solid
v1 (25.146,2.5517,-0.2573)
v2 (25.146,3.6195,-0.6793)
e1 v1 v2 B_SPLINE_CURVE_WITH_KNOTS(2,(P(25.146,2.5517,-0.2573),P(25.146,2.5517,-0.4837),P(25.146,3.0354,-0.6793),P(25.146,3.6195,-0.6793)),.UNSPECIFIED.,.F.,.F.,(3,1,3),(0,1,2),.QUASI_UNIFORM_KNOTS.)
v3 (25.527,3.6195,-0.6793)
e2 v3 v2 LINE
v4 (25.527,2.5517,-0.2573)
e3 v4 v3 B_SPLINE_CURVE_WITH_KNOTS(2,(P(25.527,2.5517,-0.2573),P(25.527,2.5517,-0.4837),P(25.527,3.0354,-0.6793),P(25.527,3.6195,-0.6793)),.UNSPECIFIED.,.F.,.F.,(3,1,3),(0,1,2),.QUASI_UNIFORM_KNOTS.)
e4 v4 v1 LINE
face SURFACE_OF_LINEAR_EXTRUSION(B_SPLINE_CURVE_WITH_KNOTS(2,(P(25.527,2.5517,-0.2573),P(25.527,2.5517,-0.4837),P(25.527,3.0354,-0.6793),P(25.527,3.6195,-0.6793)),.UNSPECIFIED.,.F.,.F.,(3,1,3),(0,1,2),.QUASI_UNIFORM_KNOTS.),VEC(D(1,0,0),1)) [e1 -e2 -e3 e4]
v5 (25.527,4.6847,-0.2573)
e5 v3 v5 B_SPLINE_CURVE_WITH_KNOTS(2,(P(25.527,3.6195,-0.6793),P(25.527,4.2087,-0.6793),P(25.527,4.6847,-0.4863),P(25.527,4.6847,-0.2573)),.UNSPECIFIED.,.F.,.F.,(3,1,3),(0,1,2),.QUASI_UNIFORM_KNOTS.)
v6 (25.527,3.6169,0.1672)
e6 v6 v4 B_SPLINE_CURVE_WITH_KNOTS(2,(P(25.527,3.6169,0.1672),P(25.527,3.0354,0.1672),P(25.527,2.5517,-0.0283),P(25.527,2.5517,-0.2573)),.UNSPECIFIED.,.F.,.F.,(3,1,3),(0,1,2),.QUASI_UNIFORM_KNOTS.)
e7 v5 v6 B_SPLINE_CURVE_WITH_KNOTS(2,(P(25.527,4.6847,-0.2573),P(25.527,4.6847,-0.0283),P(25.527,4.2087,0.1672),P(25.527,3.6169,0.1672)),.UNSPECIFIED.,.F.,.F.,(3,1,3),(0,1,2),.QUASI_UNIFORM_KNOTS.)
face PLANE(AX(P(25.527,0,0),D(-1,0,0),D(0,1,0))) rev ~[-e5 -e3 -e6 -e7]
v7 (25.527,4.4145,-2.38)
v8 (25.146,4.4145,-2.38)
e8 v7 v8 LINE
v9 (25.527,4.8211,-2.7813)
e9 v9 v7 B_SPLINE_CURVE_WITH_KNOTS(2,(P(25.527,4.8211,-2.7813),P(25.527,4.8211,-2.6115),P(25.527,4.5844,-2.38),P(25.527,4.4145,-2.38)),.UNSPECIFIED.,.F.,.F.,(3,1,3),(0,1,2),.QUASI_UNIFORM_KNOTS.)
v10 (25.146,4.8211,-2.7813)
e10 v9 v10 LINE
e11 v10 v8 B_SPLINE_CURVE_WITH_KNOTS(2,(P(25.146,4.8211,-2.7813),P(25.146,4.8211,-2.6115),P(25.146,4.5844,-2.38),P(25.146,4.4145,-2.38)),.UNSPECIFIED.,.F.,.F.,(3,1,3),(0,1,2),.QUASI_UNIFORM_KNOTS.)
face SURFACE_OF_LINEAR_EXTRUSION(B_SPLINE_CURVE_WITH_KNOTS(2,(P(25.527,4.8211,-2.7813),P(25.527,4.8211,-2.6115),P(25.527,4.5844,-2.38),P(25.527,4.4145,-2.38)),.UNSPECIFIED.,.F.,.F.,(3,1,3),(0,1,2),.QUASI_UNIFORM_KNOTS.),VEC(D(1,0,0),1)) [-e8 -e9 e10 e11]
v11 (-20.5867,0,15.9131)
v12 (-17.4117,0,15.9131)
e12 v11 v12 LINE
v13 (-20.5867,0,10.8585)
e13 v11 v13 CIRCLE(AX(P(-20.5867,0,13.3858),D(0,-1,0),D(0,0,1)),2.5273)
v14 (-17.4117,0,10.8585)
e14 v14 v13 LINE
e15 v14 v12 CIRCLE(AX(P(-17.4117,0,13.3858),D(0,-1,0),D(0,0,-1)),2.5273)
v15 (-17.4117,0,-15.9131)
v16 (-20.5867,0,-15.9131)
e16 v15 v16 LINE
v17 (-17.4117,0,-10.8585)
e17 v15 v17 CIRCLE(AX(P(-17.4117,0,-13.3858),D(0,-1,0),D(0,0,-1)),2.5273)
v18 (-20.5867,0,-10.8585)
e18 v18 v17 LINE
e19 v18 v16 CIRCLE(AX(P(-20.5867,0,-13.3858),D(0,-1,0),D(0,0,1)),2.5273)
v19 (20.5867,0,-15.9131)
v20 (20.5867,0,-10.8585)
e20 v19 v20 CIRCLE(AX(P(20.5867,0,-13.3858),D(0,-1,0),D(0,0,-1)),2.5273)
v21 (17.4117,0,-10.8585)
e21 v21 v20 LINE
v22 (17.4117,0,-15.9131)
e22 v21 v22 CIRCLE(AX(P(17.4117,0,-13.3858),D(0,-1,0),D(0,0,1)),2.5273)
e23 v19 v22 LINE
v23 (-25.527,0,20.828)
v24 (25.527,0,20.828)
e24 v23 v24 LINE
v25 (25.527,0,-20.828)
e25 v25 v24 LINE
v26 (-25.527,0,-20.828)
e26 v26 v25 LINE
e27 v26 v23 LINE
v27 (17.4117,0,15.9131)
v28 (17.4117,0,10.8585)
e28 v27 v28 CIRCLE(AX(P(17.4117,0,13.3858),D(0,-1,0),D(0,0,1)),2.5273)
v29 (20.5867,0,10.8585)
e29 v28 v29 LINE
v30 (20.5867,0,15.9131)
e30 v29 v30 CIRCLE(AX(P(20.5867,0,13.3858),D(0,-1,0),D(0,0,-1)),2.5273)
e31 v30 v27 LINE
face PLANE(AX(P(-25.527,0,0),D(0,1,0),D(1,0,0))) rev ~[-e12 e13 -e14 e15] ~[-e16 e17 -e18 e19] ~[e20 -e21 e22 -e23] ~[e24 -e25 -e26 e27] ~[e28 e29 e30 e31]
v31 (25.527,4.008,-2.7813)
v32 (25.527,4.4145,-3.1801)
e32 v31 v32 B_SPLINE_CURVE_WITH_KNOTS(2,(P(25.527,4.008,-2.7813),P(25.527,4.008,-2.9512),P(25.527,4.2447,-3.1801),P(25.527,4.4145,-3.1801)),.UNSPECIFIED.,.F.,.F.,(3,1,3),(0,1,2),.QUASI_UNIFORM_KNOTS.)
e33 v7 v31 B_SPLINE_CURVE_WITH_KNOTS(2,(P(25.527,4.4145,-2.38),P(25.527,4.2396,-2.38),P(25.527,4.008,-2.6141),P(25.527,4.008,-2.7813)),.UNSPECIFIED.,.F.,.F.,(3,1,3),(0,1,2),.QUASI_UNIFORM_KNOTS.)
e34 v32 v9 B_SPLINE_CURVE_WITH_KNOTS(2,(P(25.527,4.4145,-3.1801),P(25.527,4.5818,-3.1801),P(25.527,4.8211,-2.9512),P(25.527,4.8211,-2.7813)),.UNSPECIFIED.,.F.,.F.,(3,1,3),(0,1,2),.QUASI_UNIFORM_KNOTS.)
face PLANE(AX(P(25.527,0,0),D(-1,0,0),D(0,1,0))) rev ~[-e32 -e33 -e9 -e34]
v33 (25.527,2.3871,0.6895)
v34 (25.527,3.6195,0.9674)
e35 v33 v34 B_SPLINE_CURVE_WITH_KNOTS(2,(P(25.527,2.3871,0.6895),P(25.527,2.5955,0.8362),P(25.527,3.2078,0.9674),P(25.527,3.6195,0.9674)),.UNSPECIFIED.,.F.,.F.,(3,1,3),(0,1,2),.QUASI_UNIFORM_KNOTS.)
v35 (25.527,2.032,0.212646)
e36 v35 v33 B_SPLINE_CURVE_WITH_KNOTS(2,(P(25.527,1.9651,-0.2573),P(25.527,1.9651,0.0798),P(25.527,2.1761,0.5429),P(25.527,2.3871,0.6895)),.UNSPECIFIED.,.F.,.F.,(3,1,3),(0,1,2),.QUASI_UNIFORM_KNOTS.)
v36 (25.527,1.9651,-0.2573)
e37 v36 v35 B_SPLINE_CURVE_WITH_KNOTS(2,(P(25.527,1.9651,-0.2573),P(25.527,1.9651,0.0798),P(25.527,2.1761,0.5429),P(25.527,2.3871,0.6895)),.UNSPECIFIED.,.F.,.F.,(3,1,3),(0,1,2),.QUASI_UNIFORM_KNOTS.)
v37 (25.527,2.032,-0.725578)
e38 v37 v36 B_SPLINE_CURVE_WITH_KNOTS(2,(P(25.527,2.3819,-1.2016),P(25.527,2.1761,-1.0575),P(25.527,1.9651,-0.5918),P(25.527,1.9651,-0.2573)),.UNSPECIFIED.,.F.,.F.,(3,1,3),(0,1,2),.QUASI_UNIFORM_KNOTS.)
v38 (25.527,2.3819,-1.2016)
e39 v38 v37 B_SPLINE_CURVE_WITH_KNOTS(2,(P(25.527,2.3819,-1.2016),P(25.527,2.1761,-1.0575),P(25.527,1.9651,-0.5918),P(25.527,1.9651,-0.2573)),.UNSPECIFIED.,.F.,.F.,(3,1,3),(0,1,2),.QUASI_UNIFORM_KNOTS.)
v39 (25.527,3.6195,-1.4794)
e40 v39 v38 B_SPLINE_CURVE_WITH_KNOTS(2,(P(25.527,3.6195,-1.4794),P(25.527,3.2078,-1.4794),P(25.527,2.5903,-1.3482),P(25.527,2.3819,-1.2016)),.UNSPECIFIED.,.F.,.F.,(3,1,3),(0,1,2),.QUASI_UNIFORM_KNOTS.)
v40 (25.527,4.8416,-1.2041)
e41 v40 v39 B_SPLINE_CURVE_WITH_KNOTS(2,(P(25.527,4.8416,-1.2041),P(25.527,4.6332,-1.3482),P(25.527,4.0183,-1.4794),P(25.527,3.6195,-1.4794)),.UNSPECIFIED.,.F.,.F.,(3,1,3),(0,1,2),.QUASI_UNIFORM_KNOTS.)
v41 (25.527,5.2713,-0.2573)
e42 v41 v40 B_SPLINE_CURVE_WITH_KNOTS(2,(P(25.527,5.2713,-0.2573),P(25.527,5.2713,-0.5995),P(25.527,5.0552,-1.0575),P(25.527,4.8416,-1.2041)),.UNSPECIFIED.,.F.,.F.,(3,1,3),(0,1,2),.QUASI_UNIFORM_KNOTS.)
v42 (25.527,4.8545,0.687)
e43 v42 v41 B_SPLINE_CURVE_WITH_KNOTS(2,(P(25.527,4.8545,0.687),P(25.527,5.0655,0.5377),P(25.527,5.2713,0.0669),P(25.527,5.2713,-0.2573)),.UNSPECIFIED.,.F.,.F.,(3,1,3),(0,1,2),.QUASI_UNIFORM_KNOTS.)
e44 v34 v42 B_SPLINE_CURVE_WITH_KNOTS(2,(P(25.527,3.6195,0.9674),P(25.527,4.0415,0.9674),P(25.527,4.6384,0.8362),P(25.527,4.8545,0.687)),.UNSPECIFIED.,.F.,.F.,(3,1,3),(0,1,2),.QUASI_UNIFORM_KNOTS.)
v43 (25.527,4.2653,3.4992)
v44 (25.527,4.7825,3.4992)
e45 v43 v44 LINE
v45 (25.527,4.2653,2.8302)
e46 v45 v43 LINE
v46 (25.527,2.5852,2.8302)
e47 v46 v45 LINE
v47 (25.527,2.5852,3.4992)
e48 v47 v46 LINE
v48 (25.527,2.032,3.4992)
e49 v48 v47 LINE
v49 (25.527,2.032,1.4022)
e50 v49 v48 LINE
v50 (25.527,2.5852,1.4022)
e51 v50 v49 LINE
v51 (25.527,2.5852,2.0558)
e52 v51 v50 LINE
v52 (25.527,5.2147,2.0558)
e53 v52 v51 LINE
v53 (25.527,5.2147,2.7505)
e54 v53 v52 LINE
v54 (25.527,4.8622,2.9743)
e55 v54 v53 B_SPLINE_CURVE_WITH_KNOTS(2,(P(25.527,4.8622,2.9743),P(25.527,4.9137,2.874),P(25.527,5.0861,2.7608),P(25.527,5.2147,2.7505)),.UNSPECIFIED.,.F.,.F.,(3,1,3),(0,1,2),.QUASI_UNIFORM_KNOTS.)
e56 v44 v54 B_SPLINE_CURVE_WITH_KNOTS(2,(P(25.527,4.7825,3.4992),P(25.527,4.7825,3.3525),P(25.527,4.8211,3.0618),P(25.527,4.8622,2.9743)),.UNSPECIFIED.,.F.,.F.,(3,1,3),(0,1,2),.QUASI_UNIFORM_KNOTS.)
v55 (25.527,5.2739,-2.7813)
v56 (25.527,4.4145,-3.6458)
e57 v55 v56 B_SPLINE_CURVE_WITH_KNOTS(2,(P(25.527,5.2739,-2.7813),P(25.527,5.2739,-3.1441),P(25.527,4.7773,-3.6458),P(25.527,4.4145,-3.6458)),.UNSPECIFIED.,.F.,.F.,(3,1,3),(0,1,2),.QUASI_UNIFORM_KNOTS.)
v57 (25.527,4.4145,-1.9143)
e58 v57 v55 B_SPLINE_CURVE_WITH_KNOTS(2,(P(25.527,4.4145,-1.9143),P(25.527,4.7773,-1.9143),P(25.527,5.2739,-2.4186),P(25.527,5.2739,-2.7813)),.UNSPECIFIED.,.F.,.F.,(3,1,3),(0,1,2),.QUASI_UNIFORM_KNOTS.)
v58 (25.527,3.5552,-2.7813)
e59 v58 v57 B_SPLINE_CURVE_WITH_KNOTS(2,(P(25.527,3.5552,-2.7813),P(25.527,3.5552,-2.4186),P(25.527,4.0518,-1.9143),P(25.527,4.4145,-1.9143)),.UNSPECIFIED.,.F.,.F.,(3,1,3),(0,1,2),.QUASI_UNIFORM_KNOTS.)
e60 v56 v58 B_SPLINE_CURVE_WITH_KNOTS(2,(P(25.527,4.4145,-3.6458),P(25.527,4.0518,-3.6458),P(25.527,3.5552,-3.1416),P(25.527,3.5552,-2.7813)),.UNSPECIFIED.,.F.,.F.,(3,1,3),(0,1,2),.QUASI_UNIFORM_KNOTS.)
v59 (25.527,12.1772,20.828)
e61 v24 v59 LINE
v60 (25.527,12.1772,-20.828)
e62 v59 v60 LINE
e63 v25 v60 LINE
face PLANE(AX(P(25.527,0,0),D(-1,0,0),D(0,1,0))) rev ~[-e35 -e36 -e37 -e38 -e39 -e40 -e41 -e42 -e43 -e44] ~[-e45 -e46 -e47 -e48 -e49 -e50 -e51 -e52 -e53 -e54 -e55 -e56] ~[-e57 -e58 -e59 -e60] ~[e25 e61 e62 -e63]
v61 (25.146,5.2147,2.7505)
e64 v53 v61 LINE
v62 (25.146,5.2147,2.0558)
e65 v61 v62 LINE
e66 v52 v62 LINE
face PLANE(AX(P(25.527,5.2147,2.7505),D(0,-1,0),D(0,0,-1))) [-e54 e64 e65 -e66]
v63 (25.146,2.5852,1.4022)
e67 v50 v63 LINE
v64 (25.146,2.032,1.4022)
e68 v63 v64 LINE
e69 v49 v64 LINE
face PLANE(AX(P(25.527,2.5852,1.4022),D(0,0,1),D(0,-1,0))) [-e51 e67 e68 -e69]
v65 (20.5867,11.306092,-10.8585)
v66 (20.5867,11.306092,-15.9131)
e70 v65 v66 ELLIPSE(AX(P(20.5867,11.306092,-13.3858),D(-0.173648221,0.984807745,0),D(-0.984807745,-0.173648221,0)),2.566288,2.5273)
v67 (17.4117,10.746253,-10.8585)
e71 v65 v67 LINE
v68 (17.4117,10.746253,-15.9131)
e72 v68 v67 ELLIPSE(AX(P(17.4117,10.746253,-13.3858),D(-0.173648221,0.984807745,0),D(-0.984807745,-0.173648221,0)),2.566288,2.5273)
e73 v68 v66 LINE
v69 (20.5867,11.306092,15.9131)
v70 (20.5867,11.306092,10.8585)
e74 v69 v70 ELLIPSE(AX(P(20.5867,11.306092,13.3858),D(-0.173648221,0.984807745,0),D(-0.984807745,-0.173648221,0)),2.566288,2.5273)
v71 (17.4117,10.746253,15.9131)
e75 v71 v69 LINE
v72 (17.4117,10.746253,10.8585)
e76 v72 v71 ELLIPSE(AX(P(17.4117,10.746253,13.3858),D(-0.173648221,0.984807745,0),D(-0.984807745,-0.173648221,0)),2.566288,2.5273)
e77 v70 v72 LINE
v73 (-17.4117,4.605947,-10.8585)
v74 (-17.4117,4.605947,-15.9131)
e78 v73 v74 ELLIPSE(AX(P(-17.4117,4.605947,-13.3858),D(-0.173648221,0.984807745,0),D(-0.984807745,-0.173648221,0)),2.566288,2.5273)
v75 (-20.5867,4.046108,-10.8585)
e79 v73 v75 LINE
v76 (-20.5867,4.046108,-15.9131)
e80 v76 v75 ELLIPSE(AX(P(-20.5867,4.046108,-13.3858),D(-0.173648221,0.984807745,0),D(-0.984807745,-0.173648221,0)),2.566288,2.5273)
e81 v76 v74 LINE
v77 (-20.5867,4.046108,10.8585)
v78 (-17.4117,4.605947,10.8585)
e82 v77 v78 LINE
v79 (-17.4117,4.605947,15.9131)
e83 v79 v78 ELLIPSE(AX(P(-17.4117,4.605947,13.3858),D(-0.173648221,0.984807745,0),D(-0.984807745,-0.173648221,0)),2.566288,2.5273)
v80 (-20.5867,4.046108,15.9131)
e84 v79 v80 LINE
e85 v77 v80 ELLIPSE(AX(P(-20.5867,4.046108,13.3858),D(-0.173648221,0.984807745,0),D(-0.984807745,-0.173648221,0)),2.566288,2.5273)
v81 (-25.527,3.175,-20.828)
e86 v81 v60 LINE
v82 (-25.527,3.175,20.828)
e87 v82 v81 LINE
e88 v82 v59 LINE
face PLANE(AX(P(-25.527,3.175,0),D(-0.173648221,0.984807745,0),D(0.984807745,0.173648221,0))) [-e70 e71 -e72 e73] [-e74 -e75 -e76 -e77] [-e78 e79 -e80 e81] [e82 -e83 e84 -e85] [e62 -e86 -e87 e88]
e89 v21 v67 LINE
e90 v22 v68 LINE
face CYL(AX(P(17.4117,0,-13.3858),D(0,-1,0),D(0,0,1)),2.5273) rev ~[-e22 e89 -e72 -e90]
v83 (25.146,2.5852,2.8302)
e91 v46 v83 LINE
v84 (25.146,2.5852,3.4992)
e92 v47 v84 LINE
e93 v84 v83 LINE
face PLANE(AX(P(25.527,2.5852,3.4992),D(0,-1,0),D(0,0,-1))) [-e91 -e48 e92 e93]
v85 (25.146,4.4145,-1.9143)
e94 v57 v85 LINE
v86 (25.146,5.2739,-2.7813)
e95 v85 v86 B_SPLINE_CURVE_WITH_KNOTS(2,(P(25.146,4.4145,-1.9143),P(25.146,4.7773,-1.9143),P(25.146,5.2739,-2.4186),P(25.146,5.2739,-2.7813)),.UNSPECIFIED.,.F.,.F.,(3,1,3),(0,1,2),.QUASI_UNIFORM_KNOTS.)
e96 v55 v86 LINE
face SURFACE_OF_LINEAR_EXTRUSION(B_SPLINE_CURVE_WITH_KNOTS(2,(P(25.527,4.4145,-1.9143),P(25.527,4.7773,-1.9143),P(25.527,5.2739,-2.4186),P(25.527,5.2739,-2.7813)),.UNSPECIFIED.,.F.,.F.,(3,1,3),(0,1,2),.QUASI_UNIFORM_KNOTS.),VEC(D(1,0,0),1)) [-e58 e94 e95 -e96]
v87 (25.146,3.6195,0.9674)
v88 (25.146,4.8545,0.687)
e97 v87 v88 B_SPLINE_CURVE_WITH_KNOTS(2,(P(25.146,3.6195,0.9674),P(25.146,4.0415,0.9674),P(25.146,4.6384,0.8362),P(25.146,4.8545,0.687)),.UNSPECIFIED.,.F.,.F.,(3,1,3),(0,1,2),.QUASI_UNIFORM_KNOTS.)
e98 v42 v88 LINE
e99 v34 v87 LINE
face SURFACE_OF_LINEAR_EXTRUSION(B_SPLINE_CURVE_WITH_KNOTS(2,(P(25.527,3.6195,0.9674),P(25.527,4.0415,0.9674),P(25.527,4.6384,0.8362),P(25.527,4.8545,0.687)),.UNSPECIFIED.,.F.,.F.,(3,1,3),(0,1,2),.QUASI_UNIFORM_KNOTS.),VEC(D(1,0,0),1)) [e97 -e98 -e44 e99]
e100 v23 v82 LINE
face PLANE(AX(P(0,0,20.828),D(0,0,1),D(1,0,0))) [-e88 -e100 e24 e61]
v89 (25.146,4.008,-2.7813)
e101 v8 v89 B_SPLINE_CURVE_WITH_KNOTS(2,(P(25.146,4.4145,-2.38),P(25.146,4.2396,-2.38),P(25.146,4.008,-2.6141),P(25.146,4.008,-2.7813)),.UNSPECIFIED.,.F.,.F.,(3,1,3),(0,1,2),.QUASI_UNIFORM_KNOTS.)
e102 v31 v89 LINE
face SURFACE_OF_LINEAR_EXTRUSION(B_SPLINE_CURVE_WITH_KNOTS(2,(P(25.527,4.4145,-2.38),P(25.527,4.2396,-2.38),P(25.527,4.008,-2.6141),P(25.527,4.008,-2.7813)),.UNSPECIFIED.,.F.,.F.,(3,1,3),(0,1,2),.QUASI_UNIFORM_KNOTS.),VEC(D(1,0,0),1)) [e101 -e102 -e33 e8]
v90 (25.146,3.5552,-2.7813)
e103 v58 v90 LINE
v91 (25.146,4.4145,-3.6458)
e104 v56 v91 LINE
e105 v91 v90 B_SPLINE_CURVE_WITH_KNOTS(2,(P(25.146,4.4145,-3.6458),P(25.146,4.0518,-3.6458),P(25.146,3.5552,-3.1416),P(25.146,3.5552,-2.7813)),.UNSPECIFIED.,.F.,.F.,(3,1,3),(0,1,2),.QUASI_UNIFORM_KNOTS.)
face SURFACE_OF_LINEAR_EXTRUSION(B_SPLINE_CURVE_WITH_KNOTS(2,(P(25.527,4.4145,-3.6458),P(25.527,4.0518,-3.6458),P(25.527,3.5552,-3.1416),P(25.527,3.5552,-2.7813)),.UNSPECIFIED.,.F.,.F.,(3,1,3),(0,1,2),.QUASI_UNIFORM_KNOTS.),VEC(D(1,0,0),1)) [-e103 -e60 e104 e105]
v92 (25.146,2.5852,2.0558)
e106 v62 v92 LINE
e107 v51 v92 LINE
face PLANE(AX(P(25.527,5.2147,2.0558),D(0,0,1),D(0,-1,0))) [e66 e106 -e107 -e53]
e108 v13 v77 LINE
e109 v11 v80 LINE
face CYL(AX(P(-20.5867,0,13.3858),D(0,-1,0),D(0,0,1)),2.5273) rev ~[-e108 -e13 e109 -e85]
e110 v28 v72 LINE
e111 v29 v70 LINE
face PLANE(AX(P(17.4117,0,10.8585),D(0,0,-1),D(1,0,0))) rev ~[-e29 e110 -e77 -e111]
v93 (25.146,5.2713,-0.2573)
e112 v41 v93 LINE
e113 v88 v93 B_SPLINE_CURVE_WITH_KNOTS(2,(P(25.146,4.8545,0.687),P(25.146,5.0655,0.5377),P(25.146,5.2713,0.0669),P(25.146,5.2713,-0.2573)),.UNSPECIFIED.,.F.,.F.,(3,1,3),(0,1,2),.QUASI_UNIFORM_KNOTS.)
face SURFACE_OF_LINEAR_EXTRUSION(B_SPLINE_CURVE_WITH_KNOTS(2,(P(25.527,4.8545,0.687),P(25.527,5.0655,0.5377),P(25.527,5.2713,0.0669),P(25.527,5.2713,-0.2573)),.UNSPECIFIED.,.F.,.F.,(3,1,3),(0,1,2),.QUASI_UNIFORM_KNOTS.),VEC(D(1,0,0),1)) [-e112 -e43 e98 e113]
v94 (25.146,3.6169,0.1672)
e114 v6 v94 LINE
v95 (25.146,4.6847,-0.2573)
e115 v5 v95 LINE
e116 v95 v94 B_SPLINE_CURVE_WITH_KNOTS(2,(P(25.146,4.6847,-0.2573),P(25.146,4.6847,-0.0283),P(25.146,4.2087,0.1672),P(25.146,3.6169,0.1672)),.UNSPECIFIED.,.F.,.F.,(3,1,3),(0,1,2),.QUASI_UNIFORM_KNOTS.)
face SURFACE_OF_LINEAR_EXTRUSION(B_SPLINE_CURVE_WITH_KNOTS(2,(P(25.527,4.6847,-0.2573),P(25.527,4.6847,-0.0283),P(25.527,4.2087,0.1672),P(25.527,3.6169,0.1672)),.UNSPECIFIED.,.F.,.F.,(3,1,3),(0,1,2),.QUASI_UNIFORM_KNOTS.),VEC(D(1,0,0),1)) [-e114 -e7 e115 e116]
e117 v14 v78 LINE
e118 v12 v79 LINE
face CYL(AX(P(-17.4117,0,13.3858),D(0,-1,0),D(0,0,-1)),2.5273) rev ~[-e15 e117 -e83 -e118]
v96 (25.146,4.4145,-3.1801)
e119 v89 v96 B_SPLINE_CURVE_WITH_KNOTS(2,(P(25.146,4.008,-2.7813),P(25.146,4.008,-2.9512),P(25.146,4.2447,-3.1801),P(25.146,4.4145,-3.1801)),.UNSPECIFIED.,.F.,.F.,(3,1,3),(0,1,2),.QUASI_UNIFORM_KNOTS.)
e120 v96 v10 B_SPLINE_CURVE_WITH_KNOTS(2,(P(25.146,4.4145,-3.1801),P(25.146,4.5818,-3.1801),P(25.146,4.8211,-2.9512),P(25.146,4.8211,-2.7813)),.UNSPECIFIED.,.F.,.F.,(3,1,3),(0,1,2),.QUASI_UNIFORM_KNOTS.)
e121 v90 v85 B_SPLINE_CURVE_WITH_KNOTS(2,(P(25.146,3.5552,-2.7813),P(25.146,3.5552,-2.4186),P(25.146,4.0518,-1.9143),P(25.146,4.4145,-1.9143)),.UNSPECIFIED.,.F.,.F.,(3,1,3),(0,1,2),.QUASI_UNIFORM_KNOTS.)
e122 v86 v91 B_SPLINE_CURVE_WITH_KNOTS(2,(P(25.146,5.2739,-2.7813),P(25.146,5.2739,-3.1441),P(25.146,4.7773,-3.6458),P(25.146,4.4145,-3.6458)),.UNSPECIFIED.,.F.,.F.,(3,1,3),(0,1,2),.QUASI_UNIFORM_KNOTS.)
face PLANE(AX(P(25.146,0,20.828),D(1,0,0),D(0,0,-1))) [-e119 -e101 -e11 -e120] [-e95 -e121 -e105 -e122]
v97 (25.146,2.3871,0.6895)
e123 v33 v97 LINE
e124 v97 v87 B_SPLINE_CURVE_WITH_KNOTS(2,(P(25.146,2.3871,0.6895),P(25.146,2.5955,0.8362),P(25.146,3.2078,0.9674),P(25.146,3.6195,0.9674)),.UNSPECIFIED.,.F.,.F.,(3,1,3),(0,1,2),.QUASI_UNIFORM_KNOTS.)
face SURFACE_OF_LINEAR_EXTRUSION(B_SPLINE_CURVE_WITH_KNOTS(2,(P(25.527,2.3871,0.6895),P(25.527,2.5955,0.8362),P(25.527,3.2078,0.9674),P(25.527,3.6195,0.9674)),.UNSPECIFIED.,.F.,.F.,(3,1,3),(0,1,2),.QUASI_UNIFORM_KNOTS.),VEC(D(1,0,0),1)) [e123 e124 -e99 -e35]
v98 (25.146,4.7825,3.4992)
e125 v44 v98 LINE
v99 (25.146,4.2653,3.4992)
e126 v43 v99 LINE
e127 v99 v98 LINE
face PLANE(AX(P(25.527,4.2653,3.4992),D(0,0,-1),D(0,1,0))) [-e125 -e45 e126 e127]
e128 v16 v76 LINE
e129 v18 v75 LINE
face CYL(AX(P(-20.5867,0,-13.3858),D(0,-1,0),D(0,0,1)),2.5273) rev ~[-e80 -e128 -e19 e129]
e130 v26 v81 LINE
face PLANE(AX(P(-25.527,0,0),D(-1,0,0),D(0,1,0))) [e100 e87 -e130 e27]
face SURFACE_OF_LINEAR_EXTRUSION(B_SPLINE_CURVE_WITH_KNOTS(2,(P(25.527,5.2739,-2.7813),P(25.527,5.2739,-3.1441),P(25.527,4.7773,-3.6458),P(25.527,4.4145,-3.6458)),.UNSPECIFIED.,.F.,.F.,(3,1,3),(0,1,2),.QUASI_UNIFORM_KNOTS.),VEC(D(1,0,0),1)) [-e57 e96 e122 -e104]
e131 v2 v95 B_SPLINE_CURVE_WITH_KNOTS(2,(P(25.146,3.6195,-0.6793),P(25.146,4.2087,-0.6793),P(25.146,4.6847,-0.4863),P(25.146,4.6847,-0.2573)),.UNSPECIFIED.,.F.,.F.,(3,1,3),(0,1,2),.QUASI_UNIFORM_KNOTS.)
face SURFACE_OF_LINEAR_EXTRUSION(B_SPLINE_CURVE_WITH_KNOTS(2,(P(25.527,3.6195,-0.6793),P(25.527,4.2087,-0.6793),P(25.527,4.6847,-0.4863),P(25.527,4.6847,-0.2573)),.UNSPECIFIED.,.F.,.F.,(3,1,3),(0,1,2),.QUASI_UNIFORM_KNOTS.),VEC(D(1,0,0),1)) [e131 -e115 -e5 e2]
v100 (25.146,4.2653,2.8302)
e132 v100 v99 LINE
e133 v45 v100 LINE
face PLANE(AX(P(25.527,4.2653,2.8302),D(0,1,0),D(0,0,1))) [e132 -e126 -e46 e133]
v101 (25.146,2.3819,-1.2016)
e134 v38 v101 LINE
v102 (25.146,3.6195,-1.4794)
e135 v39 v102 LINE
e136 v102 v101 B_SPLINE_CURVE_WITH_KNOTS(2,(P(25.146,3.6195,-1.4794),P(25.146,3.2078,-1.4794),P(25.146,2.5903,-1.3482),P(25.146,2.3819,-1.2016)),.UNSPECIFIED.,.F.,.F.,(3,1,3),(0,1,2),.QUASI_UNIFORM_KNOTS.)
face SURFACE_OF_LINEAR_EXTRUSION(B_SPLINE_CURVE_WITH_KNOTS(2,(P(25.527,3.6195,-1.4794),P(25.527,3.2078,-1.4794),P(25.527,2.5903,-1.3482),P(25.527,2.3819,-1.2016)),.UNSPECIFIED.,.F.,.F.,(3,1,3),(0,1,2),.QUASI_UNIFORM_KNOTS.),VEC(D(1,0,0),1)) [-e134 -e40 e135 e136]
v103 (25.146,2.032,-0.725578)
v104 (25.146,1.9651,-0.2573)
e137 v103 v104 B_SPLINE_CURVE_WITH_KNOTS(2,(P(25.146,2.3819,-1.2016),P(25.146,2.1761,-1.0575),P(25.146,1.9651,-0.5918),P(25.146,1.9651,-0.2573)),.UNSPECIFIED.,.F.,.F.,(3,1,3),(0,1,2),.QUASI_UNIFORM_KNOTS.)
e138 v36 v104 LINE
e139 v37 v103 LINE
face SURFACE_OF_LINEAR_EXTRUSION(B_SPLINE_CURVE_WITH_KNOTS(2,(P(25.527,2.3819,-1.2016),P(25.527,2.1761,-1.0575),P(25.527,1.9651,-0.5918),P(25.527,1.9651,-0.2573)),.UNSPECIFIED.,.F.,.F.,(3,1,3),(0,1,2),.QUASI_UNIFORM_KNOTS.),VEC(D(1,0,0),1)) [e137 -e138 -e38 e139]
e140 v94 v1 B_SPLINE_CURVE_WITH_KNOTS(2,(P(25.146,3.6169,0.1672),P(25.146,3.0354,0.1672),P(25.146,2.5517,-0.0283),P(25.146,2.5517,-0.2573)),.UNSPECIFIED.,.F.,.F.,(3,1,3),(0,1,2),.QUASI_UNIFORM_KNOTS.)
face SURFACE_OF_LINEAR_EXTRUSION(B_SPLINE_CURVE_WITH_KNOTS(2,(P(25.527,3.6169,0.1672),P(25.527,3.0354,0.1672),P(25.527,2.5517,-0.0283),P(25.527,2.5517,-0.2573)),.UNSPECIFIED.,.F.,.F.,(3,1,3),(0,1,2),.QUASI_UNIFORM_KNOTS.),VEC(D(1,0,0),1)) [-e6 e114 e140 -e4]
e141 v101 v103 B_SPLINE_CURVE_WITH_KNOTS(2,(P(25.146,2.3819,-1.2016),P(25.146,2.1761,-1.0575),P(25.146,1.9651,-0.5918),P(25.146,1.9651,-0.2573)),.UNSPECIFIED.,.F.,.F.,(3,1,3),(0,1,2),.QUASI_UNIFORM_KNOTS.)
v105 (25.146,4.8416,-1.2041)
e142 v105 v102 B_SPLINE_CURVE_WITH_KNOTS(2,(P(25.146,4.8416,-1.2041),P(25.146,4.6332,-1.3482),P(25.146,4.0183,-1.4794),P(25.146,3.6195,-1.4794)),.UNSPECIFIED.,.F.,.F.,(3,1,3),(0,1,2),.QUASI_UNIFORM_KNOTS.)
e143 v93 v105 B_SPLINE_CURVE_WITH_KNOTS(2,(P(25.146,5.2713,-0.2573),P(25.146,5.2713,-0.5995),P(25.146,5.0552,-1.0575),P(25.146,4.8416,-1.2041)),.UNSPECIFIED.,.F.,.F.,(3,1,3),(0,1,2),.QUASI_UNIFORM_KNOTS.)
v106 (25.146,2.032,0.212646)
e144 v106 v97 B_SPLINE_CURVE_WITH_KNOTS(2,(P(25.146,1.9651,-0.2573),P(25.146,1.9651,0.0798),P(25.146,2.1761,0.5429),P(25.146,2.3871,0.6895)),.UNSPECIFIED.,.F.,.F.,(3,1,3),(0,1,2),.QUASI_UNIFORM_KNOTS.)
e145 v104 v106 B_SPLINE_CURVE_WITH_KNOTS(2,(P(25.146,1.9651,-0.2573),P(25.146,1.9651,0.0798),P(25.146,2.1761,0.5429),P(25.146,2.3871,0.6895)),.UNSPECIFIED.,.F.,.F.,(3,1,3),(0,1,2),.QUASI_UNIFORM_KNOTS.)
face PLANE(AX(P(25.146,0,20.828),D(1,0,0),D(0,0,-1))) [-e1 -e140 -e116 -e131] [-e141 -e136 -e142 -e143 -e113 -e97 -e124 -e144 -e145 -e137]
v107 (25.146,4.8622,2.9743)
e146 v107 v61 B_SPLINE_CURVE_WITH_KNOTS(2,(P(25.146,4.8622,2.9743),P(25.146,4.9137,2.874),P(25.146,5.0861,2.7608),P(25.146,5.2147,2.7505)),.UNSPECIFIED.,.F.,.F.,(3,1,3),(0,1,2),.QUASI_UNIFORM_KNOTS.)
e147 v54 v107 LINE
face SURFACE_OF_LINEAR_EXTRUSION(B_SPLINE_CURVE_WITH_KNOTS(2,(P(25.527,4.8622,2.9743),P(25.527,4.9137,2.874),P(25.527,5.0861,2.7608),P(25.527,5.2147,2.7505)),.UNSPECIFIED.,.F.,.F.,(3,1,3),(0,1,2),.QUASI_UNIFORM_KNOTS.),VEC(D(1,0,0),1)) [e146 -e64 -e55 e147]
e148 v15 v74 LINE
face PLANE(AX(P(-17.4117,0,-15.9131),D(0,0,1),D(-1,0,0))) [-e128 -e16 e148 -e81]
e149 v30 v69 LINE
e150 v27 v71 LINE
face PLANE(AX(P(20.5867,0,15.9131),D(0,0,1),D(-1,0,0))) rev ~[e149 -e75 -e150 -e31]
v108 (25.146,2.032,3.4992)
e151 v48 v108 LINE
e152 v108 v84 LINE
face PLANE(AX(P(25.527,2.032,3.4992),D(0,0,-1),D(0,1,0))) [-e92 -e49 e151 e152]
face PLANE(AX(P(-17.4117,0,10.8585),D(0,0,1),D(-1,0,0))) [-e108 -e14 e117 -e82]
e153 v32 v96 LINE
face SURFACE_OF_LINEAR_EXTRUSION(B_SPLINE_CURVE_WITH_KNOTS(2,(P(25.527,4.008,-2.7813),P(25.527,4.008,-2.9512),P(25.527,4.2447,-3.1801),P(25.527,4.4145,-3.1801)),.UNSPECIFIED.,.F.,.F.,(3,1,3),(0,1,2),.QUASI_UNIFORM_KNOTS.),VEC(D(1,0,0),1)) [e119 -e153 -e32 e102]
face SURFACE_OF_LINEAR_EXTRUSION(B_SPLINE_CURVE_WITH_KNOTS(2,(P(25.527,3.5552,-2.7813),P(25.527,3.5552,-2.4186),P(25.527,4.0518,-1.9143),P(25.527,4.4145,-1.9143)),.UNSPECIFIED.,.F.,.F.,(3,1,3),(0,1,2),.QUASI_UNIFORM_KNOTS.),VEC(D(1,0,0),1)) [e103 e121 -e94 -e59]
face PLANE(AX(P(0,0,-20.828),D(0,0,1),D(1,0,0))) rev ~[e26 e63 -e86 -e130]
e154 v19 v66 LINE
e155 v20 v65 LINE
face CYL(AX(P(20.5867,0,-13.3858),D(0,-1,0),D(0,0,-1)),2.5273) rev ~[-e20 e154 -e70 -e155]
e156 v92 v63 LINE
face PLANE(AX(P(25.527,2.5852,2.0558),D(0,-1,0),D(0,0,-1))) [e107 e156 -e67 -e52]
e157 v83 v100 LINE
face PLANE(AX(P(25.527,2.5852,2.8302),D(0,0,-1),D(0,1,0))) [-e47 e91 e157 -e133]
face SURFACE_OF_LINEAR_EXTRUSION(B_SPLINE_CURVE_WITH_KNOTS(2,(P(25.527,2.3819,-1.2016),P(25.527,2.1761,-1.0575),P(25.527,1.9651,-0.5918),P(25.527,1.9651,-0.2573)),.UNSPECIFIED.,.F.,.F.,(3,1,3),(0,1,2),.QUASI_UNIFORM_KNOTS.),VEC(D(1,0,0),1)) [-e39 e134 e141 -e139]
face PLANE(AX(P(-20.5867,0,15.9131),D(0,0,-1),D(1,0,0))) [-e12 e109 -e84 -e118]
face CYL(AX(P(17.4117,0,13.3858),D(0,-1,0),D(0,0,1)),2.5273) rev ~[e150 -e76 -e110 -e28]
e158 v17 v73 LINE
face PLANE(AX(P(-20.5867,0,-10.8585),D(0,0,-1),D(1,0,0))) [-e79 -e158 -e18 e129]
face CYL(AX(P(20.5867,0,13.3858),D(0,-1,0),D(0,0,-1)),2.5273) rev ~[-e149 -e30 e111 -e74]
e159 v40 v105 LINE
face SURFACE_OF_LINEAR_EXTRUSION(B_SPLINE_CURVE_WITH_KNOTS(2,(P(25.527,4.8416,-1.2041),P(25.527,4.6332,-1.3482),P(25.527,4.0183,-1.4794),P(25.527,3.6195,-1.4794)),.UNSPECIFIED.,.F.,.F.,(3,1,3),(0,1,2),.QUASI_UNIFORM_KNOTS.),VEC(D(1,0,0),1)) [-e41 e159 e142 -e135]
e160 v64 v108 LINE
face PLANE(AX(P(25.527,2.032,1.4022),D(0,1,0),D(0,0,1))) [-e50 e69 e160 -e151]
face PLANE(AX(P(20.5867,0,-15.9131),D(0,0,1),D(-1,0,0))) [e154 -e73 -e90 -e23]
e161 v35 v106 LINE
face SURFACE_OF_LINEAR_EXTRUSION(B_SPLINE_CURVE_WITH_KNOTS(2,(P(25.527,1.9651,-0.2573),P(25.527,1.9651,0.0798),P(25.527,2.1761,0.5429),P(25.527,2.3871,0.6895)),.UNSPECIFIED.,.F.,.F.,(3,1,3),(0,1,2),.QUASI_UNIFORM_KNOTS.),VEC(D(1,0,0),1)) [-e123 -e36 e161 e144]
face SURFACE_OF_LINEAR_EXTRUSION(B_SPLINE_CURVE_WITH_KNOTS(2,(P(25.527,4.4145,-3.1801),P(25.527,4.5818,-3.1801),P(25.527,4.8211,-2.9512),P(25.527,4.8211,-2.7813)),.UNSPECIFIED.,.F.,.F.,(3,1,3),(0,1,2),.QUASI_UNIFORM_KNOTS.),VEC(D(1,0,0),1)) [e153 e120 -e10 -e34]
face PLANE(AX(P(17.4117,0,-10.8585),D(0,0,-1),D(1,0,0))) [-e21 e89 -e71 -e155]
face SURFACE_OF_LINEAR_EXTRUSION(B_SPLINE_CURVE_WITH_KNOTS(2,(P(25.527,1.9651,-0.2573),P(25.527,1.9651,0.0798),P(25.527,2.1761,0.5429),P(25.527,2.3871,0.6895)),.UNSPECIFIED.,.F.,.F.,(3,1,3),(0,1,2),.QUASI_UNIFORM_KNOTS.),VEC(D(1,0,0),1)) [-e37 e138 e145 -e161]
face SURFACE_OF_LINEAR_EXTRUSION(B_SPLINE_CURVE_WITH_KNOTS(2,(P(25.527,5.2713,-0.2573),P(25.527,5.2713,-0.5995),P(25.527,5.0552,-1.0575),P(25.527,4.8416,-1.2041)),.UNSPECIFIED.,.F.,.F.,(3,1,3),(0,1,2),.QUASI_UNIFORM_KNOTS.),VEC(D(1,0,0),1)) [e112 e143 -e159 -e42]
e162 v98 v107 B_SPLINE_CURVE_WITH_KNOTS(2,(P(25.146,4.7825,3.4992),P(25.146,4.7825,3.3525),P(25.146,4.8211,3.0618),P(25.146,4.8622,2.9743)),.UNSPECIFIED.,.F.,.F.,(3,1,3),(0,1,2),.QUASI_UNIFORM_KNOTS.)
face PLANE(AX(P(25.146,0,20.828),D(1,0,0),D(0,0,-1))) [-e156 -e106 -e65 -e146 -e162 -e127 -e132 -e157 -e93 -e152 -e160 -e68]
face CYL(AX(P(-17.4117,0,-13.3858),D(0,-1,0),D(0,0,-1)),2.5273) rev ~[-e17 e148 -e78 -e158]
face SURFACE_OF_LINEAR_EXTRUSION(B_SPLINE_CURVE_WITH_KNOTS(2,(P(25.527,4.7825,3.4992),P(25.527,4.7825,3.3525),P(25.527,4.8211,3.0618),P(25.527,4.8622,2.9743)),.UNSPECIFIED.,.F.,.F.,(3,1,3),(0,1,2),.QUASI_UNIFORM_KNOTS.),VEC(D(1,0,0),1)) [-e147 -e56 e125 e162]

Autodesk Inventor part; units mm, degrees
ref_plane "YZ Plane" through (0, 0, 0) normal (1, 0, 0) x (0, 1, 0)
ref_plane "XZ Plane" through (0, 0, 0) normal (0, 1, 0) x (-1, 0, 0)
ref_plane "XY Plane" through (0, 0, 0) normal (0, 0, 1) x (1, 0, 0)
sketch "Sketch1" plane through (0, 0, 0) normal (0, 1, 0) x (-1, 0, 0)
  line L0 (25.527, 20.828) -> (-25.527, 20.828)
  line L1 (-25.527, 20.828) -> (-25.527, -20.828)
  line L2 (-25.527, -20.828) -> (25.527, -20.828)
  line L3 (25.527, -20.828) -> (25.527, 20.828)
  circle A0 centre (18.9992, 13.3858) radius 1.9837
  circle A1 centre (18.9992, -13.3858) radius 1.9837
  circle A2 centre (-18.9992, -13.3858) radius 1.9837
  circle A3 centre (-18.9992, 13.3858) radius 1.9837
  circle A4 centre (18.9992, 13.3858) radius 3.048 construction
  point P0 (0, 0)
  point P1 (25.527, 0)
  point P2 (0, -20.828)
  dimension "d0" = 3.9675
  dimension "d1" = 41.656
  dimension "d2" = 51.054
  dimension "d3" = 6.096
  dimension "d4" = 7.4422
  dimension "d5" = 6.5278
  dimension "d6" = 7.4422
  dimension "d7" = 6.5278
sketch "Sketch10" plane through (0, 0, 0) normal (0, 0, 1) x (1, 0, 0)
  line L0 (-25.527, 0) -> (25.527, 0)
  line L1 (25.527, 0) -> (25.527, 12.1772)
  line L2 (-25.527, 0) -> (-25.527, 3.175)
  line L3 (-25.527, 3.175) -> (25.527, 12.1772)
  point P0 (0, 0)
  dimension "d61" = 10
  dimension "d62" = 3.175
extrude "Extrusion8" add sketch "Sketch10" along normal mid plane 41.656
sketch "Sketch11" plane through (-25.527, 0, 20.828) normal (0, -1, 0) x (1, 0, 0)
  line L0 (46.1137, -7.4422) -> (42.9387, -7.4422) construction
  line L1 (46.1137, -4.9149) -> (42.9387, -4.9149)
  line L2 (42.9387, -9.9695) -> (46.1137, -9.9695)
  arc A0 (46.1137, -9.9695) -> (46.1137, -4.9149) centre (46.1137, -7.4422) ccw
  arc A1 (42.9387, -4.9149) -> (42.9387, -9.9695) centre (42.9387, -7.4422) ccw
  line L3 (46.1137, -34.2138) -> (42.9387, -34.2138) construction
  line L4 (51.054, -41.656) -> (51.054, 0) projected
  line L5 (46.1137, -36.7411) -> (42.9387, -36.7411)
  line L6 (42.9387, -31.6865) -> (46.1137, -31.6865)
  arc A2 (46.1137, -36.7411) -> (46.1137, -31.6865) centre (46.1137, -34.2138) ccw
  arc A3 (42.9387, -31.6865) -> (42.9387, -36.7411) centre (42.9387, -34.2138) ccw
  line L7 (8.1153, -34.2138) -> (4.9403, -34.2138) construction
  line L8 (8.1153, -36.7411) -> (4.9403, -36.7411)
  line L9 (4.9403, -31.6865) -> (8.1153, -31.6865)
  arc A4 (8.1153, -36.7411) -> (8.1153, -31.6865) centre (8.1153, -34.2138) ccw
  arc A5 (4.9403, -31.6865) -> (4.9403, -36.7411) centre (4.9403, -34.2138) ccw
  line L10 (8.1153, -7.4422) -> (4.9403, -7.4422) construction
  line L11 (8.1153, -9.9695) -> (4.9403, -9.9695)
  line L12 (4.9403, -4.9149) -> (8.1153, -4.9149)
  arc A6 (8.1153, -9.9695) -> (8.1153, -4.9149) centre (8.1153, -7.4422) ccw
  arc A7 (4.9403, -4.9149) -> (4.9403, -9.9695) centre (4.9403, -7.4422) ccw
  point P0 (25.527, -20.828)
  point P1 (44.5262, -7.4422)
  point P2 (44.5262, -34.2138)
  point P3 (6.5278, -34.2138)
  point P4 (6.5278, -7.4422)
  point P5 (44.5262, -7.4422)
  point P6 (44.5262, -34.2138)
  point P7 (6.5278, -34.2138)
  point P8 (6.5278, -7.4422)
  point P9 (44.5262, -9.9695)
  point P10 (6.5278, -36.7411)
  dimension "d65" = 3.175
  dimension "d66" = 2.5273
extrude "Extrusion9" cut sketch "Sketch11" against normal blind 41.656
sketch "Sketch13" plane through (25.527, 0, 20.828) normal (1, 0, 0) x (0, 0, -1)
  line L0 (41.656, 12.1772) -> (0, 12.1772) projected
  line L1 (0, 0) -> (0, 12.1772) projected
  line L2 (41.656, 0) -> (0, 0) projected
  line L3 (41.656, 12.1772) -> (41.656, 0) projected
  line L4 (25.4999, 2.032) -> (16.1561, 2.032)
  line L5 (19.4258, 2.032) -> (17.3288, 2.032)
  line L6 (17.3288, 2.032) -> (17.3288, 2.5852)
  line L7 (17.3288, 2.5852) -> (17.9978, 2.5852)
  line L8 (17.9978, 2.5852) -> (17.9978, 4.2653)
  line L9 (17.9978, 4.2653) -> (17.3288, 4.2653)
  line L10 (17.3288, 4.2653) -> (17.3288, 4.7825)
  spline S0 degree 2 poles (17.3288, 4.7825) (17.4755, 4.7825) (17.7662, 4.8211) (17.8537, 4.8622) knots 0 0 0 1 2 2 2
  spline S1 degree 2 poles (17.8537, 4.8622) (17.954, 4.9137) (18.0672, 5.0861) (18.0775, 5.2147) knots 0 0 0 1 2 2 2
  line L11 (18.0775, 5.2147) -> (18.7722, 5.2147)
  line L12 (18.7722, 5.2147) -> (18.7722, 2.5852)
  line L13 (18.7722, 2.5852) -> (19.4258, 2.5852)
  line L14 (19.4258, 2.5852) -> (19.4258, 2.032)
  spline S2 degree 2 poles (22.3074, 3.6195) (22.3074, 3.2078) (22.1762, 2.5903) (22.0296, 2.3819) knots 0 0 0 1 2 2 2
  spline S3 degree 2 poles (22.0296, 2.3819) (21.8855, 2.1761) (21.4198, 1.9651) (21.0853, 1.9651) knots 0 0 0 1 2 2 2
  spline S4 degree 2 poles (21.0853, 1.9651) (20.7482, 1.9651) (20.2851, 2.1761) (20.1385, 2.3871) knots 0 0 0 1 2 2 2
  spline S5 degree 2 poles (20.1385, 2.3871) (19.9918, 2.5955) (19.8606, 3.2078) (19.8606, 3.6195) knots 0 0 0 1 2 2 2
  spline S6 degree 2 poles (19.8606, 3.6195) (19.8606, 4.0415) (19.9918, 4.6384) (20.141, 4.8545) knots 0 0 0 1 2 2 2
  spline S7 degree 2 poles (20.141, 4.8545) (20.2903, 5.0655) (20.7611, 5.2713) (21.0853, 5.2713) knots 0 0 0 1 2 2 2
  spline S8 degree 2 poles (21.0853, 5.2713) (21.4275, 5.2713) (21.8855, 5.0552) (22.0321, 4.8416) knots 0 0 0 1 2 2 2
  spline S9 degree 2 poles (22.0321, 4.8416) (22.1762, 4.6332) (22.3074, 4.0183) (22.3074, 3.6195) knots 0 0 0 1 2 2 2
  spline S10 degree 2 poles (21.5073, 3.6195) (21.5073, 4.2087) (21.3143, 4.6847) (21.0853, 4.6847) knots 0 0 0 1 2 2 2
  spline S11 degree 2 poles (21.0853, 4.6847) (20.8563, 4.6847) (20.6608, 4.2087) (20.6608, 3.6169) knots 0 0 0 1 2 2 2
  spline S12 degree 2 poles (20.6608, 3.6169) (20.6608, 3.0354) (20.8563, 2.5517) (21.0853, 2.5517) knots 0 0 0 1 2 2 2
  spline S13 degree 2 poles (21.0853, 2.5517) (21.3117, 2.5517) (21.5073, 3.0354) (21.5073, 3.6195) knots 0 0 0 1 2 2 2
  spline S14 degree 2 poles (24.4738, 4.4145) (24.4738, 4.0518) (23.9696, 3.5552) (23.6093, 3.5552) knots 0 0 0 1 2 2 2
  spline S15 degree 2 poles (23.6093, 3.5552) (23.2466, 3.5552) (22.7423, 4.0518) (22.7423, 4.4145) knots 0 0 0 1 2 2 2
  spline S16 degree 2 poles (22.7423, 4.4145) (22.7423, 4.7773) (23.2466, 5.2739) (23.6093, 5.2739) knots 0 0 0 1 2 2 2
  spline S17 degree 2 poles (23.6093, 5.2739) (23.9721, 5.2739) (24.4738, 4.7773) (24.4738, 4.4145) knots 0 0 0 1 2 2 2
  spline S18 degree 2 poles (24.0081, 4.4145) (24.0081, 4.5818) (23.7792, 4.8211) (23.6093, 4.8211) knots 0 0 0 1 2 2 2
  spline S19 degree 2 poles (23.6093, 4.8211) (23.4395, 4.8211) (23.208, 4.5844) (23.208, 4.4145) knots 0 0 0 1 2 2 2
  spline S20 degree 2 poles (23.208, 4.4145) (23.208, 4.2396) (23.4421, 4.008) (23.6093, 4.008) knots 0 0 0 1 2 2 2
  spline S21 degree 2 poles (23.6093, 4.008) (23.7792, 4.008) (24.0081, 4.2447) (24.0081, 4.4145) knots 0 0 0 1 2 2 2
  point P0 (20.828, 0)
  point P1 (20.828, 0)
  point P2 (20.828, 2.032)
  dimension "d69" = 2.032
extrude "Extrusion10" cut sketch "Sketch13" against normal blind 0.381 contours S4 S5 S6 S7 S8 S9 S2 S3 L4 | L4 S3 S4 | L4 L6 L7 L8 L9 L10 S0 S1 L11 L12 L13 L14 | S14 S15 S16 S17
equation "\"d6\" = d4"
equation "\"d7\" = d5"
equation "\"d23\" = d22"
equation "\"d25\" = 0.5 * d24"
equation "\"d22\" = 3.175"
equation "\"d24\" = 4.7625"
properties part number "shim 10 Deg"
